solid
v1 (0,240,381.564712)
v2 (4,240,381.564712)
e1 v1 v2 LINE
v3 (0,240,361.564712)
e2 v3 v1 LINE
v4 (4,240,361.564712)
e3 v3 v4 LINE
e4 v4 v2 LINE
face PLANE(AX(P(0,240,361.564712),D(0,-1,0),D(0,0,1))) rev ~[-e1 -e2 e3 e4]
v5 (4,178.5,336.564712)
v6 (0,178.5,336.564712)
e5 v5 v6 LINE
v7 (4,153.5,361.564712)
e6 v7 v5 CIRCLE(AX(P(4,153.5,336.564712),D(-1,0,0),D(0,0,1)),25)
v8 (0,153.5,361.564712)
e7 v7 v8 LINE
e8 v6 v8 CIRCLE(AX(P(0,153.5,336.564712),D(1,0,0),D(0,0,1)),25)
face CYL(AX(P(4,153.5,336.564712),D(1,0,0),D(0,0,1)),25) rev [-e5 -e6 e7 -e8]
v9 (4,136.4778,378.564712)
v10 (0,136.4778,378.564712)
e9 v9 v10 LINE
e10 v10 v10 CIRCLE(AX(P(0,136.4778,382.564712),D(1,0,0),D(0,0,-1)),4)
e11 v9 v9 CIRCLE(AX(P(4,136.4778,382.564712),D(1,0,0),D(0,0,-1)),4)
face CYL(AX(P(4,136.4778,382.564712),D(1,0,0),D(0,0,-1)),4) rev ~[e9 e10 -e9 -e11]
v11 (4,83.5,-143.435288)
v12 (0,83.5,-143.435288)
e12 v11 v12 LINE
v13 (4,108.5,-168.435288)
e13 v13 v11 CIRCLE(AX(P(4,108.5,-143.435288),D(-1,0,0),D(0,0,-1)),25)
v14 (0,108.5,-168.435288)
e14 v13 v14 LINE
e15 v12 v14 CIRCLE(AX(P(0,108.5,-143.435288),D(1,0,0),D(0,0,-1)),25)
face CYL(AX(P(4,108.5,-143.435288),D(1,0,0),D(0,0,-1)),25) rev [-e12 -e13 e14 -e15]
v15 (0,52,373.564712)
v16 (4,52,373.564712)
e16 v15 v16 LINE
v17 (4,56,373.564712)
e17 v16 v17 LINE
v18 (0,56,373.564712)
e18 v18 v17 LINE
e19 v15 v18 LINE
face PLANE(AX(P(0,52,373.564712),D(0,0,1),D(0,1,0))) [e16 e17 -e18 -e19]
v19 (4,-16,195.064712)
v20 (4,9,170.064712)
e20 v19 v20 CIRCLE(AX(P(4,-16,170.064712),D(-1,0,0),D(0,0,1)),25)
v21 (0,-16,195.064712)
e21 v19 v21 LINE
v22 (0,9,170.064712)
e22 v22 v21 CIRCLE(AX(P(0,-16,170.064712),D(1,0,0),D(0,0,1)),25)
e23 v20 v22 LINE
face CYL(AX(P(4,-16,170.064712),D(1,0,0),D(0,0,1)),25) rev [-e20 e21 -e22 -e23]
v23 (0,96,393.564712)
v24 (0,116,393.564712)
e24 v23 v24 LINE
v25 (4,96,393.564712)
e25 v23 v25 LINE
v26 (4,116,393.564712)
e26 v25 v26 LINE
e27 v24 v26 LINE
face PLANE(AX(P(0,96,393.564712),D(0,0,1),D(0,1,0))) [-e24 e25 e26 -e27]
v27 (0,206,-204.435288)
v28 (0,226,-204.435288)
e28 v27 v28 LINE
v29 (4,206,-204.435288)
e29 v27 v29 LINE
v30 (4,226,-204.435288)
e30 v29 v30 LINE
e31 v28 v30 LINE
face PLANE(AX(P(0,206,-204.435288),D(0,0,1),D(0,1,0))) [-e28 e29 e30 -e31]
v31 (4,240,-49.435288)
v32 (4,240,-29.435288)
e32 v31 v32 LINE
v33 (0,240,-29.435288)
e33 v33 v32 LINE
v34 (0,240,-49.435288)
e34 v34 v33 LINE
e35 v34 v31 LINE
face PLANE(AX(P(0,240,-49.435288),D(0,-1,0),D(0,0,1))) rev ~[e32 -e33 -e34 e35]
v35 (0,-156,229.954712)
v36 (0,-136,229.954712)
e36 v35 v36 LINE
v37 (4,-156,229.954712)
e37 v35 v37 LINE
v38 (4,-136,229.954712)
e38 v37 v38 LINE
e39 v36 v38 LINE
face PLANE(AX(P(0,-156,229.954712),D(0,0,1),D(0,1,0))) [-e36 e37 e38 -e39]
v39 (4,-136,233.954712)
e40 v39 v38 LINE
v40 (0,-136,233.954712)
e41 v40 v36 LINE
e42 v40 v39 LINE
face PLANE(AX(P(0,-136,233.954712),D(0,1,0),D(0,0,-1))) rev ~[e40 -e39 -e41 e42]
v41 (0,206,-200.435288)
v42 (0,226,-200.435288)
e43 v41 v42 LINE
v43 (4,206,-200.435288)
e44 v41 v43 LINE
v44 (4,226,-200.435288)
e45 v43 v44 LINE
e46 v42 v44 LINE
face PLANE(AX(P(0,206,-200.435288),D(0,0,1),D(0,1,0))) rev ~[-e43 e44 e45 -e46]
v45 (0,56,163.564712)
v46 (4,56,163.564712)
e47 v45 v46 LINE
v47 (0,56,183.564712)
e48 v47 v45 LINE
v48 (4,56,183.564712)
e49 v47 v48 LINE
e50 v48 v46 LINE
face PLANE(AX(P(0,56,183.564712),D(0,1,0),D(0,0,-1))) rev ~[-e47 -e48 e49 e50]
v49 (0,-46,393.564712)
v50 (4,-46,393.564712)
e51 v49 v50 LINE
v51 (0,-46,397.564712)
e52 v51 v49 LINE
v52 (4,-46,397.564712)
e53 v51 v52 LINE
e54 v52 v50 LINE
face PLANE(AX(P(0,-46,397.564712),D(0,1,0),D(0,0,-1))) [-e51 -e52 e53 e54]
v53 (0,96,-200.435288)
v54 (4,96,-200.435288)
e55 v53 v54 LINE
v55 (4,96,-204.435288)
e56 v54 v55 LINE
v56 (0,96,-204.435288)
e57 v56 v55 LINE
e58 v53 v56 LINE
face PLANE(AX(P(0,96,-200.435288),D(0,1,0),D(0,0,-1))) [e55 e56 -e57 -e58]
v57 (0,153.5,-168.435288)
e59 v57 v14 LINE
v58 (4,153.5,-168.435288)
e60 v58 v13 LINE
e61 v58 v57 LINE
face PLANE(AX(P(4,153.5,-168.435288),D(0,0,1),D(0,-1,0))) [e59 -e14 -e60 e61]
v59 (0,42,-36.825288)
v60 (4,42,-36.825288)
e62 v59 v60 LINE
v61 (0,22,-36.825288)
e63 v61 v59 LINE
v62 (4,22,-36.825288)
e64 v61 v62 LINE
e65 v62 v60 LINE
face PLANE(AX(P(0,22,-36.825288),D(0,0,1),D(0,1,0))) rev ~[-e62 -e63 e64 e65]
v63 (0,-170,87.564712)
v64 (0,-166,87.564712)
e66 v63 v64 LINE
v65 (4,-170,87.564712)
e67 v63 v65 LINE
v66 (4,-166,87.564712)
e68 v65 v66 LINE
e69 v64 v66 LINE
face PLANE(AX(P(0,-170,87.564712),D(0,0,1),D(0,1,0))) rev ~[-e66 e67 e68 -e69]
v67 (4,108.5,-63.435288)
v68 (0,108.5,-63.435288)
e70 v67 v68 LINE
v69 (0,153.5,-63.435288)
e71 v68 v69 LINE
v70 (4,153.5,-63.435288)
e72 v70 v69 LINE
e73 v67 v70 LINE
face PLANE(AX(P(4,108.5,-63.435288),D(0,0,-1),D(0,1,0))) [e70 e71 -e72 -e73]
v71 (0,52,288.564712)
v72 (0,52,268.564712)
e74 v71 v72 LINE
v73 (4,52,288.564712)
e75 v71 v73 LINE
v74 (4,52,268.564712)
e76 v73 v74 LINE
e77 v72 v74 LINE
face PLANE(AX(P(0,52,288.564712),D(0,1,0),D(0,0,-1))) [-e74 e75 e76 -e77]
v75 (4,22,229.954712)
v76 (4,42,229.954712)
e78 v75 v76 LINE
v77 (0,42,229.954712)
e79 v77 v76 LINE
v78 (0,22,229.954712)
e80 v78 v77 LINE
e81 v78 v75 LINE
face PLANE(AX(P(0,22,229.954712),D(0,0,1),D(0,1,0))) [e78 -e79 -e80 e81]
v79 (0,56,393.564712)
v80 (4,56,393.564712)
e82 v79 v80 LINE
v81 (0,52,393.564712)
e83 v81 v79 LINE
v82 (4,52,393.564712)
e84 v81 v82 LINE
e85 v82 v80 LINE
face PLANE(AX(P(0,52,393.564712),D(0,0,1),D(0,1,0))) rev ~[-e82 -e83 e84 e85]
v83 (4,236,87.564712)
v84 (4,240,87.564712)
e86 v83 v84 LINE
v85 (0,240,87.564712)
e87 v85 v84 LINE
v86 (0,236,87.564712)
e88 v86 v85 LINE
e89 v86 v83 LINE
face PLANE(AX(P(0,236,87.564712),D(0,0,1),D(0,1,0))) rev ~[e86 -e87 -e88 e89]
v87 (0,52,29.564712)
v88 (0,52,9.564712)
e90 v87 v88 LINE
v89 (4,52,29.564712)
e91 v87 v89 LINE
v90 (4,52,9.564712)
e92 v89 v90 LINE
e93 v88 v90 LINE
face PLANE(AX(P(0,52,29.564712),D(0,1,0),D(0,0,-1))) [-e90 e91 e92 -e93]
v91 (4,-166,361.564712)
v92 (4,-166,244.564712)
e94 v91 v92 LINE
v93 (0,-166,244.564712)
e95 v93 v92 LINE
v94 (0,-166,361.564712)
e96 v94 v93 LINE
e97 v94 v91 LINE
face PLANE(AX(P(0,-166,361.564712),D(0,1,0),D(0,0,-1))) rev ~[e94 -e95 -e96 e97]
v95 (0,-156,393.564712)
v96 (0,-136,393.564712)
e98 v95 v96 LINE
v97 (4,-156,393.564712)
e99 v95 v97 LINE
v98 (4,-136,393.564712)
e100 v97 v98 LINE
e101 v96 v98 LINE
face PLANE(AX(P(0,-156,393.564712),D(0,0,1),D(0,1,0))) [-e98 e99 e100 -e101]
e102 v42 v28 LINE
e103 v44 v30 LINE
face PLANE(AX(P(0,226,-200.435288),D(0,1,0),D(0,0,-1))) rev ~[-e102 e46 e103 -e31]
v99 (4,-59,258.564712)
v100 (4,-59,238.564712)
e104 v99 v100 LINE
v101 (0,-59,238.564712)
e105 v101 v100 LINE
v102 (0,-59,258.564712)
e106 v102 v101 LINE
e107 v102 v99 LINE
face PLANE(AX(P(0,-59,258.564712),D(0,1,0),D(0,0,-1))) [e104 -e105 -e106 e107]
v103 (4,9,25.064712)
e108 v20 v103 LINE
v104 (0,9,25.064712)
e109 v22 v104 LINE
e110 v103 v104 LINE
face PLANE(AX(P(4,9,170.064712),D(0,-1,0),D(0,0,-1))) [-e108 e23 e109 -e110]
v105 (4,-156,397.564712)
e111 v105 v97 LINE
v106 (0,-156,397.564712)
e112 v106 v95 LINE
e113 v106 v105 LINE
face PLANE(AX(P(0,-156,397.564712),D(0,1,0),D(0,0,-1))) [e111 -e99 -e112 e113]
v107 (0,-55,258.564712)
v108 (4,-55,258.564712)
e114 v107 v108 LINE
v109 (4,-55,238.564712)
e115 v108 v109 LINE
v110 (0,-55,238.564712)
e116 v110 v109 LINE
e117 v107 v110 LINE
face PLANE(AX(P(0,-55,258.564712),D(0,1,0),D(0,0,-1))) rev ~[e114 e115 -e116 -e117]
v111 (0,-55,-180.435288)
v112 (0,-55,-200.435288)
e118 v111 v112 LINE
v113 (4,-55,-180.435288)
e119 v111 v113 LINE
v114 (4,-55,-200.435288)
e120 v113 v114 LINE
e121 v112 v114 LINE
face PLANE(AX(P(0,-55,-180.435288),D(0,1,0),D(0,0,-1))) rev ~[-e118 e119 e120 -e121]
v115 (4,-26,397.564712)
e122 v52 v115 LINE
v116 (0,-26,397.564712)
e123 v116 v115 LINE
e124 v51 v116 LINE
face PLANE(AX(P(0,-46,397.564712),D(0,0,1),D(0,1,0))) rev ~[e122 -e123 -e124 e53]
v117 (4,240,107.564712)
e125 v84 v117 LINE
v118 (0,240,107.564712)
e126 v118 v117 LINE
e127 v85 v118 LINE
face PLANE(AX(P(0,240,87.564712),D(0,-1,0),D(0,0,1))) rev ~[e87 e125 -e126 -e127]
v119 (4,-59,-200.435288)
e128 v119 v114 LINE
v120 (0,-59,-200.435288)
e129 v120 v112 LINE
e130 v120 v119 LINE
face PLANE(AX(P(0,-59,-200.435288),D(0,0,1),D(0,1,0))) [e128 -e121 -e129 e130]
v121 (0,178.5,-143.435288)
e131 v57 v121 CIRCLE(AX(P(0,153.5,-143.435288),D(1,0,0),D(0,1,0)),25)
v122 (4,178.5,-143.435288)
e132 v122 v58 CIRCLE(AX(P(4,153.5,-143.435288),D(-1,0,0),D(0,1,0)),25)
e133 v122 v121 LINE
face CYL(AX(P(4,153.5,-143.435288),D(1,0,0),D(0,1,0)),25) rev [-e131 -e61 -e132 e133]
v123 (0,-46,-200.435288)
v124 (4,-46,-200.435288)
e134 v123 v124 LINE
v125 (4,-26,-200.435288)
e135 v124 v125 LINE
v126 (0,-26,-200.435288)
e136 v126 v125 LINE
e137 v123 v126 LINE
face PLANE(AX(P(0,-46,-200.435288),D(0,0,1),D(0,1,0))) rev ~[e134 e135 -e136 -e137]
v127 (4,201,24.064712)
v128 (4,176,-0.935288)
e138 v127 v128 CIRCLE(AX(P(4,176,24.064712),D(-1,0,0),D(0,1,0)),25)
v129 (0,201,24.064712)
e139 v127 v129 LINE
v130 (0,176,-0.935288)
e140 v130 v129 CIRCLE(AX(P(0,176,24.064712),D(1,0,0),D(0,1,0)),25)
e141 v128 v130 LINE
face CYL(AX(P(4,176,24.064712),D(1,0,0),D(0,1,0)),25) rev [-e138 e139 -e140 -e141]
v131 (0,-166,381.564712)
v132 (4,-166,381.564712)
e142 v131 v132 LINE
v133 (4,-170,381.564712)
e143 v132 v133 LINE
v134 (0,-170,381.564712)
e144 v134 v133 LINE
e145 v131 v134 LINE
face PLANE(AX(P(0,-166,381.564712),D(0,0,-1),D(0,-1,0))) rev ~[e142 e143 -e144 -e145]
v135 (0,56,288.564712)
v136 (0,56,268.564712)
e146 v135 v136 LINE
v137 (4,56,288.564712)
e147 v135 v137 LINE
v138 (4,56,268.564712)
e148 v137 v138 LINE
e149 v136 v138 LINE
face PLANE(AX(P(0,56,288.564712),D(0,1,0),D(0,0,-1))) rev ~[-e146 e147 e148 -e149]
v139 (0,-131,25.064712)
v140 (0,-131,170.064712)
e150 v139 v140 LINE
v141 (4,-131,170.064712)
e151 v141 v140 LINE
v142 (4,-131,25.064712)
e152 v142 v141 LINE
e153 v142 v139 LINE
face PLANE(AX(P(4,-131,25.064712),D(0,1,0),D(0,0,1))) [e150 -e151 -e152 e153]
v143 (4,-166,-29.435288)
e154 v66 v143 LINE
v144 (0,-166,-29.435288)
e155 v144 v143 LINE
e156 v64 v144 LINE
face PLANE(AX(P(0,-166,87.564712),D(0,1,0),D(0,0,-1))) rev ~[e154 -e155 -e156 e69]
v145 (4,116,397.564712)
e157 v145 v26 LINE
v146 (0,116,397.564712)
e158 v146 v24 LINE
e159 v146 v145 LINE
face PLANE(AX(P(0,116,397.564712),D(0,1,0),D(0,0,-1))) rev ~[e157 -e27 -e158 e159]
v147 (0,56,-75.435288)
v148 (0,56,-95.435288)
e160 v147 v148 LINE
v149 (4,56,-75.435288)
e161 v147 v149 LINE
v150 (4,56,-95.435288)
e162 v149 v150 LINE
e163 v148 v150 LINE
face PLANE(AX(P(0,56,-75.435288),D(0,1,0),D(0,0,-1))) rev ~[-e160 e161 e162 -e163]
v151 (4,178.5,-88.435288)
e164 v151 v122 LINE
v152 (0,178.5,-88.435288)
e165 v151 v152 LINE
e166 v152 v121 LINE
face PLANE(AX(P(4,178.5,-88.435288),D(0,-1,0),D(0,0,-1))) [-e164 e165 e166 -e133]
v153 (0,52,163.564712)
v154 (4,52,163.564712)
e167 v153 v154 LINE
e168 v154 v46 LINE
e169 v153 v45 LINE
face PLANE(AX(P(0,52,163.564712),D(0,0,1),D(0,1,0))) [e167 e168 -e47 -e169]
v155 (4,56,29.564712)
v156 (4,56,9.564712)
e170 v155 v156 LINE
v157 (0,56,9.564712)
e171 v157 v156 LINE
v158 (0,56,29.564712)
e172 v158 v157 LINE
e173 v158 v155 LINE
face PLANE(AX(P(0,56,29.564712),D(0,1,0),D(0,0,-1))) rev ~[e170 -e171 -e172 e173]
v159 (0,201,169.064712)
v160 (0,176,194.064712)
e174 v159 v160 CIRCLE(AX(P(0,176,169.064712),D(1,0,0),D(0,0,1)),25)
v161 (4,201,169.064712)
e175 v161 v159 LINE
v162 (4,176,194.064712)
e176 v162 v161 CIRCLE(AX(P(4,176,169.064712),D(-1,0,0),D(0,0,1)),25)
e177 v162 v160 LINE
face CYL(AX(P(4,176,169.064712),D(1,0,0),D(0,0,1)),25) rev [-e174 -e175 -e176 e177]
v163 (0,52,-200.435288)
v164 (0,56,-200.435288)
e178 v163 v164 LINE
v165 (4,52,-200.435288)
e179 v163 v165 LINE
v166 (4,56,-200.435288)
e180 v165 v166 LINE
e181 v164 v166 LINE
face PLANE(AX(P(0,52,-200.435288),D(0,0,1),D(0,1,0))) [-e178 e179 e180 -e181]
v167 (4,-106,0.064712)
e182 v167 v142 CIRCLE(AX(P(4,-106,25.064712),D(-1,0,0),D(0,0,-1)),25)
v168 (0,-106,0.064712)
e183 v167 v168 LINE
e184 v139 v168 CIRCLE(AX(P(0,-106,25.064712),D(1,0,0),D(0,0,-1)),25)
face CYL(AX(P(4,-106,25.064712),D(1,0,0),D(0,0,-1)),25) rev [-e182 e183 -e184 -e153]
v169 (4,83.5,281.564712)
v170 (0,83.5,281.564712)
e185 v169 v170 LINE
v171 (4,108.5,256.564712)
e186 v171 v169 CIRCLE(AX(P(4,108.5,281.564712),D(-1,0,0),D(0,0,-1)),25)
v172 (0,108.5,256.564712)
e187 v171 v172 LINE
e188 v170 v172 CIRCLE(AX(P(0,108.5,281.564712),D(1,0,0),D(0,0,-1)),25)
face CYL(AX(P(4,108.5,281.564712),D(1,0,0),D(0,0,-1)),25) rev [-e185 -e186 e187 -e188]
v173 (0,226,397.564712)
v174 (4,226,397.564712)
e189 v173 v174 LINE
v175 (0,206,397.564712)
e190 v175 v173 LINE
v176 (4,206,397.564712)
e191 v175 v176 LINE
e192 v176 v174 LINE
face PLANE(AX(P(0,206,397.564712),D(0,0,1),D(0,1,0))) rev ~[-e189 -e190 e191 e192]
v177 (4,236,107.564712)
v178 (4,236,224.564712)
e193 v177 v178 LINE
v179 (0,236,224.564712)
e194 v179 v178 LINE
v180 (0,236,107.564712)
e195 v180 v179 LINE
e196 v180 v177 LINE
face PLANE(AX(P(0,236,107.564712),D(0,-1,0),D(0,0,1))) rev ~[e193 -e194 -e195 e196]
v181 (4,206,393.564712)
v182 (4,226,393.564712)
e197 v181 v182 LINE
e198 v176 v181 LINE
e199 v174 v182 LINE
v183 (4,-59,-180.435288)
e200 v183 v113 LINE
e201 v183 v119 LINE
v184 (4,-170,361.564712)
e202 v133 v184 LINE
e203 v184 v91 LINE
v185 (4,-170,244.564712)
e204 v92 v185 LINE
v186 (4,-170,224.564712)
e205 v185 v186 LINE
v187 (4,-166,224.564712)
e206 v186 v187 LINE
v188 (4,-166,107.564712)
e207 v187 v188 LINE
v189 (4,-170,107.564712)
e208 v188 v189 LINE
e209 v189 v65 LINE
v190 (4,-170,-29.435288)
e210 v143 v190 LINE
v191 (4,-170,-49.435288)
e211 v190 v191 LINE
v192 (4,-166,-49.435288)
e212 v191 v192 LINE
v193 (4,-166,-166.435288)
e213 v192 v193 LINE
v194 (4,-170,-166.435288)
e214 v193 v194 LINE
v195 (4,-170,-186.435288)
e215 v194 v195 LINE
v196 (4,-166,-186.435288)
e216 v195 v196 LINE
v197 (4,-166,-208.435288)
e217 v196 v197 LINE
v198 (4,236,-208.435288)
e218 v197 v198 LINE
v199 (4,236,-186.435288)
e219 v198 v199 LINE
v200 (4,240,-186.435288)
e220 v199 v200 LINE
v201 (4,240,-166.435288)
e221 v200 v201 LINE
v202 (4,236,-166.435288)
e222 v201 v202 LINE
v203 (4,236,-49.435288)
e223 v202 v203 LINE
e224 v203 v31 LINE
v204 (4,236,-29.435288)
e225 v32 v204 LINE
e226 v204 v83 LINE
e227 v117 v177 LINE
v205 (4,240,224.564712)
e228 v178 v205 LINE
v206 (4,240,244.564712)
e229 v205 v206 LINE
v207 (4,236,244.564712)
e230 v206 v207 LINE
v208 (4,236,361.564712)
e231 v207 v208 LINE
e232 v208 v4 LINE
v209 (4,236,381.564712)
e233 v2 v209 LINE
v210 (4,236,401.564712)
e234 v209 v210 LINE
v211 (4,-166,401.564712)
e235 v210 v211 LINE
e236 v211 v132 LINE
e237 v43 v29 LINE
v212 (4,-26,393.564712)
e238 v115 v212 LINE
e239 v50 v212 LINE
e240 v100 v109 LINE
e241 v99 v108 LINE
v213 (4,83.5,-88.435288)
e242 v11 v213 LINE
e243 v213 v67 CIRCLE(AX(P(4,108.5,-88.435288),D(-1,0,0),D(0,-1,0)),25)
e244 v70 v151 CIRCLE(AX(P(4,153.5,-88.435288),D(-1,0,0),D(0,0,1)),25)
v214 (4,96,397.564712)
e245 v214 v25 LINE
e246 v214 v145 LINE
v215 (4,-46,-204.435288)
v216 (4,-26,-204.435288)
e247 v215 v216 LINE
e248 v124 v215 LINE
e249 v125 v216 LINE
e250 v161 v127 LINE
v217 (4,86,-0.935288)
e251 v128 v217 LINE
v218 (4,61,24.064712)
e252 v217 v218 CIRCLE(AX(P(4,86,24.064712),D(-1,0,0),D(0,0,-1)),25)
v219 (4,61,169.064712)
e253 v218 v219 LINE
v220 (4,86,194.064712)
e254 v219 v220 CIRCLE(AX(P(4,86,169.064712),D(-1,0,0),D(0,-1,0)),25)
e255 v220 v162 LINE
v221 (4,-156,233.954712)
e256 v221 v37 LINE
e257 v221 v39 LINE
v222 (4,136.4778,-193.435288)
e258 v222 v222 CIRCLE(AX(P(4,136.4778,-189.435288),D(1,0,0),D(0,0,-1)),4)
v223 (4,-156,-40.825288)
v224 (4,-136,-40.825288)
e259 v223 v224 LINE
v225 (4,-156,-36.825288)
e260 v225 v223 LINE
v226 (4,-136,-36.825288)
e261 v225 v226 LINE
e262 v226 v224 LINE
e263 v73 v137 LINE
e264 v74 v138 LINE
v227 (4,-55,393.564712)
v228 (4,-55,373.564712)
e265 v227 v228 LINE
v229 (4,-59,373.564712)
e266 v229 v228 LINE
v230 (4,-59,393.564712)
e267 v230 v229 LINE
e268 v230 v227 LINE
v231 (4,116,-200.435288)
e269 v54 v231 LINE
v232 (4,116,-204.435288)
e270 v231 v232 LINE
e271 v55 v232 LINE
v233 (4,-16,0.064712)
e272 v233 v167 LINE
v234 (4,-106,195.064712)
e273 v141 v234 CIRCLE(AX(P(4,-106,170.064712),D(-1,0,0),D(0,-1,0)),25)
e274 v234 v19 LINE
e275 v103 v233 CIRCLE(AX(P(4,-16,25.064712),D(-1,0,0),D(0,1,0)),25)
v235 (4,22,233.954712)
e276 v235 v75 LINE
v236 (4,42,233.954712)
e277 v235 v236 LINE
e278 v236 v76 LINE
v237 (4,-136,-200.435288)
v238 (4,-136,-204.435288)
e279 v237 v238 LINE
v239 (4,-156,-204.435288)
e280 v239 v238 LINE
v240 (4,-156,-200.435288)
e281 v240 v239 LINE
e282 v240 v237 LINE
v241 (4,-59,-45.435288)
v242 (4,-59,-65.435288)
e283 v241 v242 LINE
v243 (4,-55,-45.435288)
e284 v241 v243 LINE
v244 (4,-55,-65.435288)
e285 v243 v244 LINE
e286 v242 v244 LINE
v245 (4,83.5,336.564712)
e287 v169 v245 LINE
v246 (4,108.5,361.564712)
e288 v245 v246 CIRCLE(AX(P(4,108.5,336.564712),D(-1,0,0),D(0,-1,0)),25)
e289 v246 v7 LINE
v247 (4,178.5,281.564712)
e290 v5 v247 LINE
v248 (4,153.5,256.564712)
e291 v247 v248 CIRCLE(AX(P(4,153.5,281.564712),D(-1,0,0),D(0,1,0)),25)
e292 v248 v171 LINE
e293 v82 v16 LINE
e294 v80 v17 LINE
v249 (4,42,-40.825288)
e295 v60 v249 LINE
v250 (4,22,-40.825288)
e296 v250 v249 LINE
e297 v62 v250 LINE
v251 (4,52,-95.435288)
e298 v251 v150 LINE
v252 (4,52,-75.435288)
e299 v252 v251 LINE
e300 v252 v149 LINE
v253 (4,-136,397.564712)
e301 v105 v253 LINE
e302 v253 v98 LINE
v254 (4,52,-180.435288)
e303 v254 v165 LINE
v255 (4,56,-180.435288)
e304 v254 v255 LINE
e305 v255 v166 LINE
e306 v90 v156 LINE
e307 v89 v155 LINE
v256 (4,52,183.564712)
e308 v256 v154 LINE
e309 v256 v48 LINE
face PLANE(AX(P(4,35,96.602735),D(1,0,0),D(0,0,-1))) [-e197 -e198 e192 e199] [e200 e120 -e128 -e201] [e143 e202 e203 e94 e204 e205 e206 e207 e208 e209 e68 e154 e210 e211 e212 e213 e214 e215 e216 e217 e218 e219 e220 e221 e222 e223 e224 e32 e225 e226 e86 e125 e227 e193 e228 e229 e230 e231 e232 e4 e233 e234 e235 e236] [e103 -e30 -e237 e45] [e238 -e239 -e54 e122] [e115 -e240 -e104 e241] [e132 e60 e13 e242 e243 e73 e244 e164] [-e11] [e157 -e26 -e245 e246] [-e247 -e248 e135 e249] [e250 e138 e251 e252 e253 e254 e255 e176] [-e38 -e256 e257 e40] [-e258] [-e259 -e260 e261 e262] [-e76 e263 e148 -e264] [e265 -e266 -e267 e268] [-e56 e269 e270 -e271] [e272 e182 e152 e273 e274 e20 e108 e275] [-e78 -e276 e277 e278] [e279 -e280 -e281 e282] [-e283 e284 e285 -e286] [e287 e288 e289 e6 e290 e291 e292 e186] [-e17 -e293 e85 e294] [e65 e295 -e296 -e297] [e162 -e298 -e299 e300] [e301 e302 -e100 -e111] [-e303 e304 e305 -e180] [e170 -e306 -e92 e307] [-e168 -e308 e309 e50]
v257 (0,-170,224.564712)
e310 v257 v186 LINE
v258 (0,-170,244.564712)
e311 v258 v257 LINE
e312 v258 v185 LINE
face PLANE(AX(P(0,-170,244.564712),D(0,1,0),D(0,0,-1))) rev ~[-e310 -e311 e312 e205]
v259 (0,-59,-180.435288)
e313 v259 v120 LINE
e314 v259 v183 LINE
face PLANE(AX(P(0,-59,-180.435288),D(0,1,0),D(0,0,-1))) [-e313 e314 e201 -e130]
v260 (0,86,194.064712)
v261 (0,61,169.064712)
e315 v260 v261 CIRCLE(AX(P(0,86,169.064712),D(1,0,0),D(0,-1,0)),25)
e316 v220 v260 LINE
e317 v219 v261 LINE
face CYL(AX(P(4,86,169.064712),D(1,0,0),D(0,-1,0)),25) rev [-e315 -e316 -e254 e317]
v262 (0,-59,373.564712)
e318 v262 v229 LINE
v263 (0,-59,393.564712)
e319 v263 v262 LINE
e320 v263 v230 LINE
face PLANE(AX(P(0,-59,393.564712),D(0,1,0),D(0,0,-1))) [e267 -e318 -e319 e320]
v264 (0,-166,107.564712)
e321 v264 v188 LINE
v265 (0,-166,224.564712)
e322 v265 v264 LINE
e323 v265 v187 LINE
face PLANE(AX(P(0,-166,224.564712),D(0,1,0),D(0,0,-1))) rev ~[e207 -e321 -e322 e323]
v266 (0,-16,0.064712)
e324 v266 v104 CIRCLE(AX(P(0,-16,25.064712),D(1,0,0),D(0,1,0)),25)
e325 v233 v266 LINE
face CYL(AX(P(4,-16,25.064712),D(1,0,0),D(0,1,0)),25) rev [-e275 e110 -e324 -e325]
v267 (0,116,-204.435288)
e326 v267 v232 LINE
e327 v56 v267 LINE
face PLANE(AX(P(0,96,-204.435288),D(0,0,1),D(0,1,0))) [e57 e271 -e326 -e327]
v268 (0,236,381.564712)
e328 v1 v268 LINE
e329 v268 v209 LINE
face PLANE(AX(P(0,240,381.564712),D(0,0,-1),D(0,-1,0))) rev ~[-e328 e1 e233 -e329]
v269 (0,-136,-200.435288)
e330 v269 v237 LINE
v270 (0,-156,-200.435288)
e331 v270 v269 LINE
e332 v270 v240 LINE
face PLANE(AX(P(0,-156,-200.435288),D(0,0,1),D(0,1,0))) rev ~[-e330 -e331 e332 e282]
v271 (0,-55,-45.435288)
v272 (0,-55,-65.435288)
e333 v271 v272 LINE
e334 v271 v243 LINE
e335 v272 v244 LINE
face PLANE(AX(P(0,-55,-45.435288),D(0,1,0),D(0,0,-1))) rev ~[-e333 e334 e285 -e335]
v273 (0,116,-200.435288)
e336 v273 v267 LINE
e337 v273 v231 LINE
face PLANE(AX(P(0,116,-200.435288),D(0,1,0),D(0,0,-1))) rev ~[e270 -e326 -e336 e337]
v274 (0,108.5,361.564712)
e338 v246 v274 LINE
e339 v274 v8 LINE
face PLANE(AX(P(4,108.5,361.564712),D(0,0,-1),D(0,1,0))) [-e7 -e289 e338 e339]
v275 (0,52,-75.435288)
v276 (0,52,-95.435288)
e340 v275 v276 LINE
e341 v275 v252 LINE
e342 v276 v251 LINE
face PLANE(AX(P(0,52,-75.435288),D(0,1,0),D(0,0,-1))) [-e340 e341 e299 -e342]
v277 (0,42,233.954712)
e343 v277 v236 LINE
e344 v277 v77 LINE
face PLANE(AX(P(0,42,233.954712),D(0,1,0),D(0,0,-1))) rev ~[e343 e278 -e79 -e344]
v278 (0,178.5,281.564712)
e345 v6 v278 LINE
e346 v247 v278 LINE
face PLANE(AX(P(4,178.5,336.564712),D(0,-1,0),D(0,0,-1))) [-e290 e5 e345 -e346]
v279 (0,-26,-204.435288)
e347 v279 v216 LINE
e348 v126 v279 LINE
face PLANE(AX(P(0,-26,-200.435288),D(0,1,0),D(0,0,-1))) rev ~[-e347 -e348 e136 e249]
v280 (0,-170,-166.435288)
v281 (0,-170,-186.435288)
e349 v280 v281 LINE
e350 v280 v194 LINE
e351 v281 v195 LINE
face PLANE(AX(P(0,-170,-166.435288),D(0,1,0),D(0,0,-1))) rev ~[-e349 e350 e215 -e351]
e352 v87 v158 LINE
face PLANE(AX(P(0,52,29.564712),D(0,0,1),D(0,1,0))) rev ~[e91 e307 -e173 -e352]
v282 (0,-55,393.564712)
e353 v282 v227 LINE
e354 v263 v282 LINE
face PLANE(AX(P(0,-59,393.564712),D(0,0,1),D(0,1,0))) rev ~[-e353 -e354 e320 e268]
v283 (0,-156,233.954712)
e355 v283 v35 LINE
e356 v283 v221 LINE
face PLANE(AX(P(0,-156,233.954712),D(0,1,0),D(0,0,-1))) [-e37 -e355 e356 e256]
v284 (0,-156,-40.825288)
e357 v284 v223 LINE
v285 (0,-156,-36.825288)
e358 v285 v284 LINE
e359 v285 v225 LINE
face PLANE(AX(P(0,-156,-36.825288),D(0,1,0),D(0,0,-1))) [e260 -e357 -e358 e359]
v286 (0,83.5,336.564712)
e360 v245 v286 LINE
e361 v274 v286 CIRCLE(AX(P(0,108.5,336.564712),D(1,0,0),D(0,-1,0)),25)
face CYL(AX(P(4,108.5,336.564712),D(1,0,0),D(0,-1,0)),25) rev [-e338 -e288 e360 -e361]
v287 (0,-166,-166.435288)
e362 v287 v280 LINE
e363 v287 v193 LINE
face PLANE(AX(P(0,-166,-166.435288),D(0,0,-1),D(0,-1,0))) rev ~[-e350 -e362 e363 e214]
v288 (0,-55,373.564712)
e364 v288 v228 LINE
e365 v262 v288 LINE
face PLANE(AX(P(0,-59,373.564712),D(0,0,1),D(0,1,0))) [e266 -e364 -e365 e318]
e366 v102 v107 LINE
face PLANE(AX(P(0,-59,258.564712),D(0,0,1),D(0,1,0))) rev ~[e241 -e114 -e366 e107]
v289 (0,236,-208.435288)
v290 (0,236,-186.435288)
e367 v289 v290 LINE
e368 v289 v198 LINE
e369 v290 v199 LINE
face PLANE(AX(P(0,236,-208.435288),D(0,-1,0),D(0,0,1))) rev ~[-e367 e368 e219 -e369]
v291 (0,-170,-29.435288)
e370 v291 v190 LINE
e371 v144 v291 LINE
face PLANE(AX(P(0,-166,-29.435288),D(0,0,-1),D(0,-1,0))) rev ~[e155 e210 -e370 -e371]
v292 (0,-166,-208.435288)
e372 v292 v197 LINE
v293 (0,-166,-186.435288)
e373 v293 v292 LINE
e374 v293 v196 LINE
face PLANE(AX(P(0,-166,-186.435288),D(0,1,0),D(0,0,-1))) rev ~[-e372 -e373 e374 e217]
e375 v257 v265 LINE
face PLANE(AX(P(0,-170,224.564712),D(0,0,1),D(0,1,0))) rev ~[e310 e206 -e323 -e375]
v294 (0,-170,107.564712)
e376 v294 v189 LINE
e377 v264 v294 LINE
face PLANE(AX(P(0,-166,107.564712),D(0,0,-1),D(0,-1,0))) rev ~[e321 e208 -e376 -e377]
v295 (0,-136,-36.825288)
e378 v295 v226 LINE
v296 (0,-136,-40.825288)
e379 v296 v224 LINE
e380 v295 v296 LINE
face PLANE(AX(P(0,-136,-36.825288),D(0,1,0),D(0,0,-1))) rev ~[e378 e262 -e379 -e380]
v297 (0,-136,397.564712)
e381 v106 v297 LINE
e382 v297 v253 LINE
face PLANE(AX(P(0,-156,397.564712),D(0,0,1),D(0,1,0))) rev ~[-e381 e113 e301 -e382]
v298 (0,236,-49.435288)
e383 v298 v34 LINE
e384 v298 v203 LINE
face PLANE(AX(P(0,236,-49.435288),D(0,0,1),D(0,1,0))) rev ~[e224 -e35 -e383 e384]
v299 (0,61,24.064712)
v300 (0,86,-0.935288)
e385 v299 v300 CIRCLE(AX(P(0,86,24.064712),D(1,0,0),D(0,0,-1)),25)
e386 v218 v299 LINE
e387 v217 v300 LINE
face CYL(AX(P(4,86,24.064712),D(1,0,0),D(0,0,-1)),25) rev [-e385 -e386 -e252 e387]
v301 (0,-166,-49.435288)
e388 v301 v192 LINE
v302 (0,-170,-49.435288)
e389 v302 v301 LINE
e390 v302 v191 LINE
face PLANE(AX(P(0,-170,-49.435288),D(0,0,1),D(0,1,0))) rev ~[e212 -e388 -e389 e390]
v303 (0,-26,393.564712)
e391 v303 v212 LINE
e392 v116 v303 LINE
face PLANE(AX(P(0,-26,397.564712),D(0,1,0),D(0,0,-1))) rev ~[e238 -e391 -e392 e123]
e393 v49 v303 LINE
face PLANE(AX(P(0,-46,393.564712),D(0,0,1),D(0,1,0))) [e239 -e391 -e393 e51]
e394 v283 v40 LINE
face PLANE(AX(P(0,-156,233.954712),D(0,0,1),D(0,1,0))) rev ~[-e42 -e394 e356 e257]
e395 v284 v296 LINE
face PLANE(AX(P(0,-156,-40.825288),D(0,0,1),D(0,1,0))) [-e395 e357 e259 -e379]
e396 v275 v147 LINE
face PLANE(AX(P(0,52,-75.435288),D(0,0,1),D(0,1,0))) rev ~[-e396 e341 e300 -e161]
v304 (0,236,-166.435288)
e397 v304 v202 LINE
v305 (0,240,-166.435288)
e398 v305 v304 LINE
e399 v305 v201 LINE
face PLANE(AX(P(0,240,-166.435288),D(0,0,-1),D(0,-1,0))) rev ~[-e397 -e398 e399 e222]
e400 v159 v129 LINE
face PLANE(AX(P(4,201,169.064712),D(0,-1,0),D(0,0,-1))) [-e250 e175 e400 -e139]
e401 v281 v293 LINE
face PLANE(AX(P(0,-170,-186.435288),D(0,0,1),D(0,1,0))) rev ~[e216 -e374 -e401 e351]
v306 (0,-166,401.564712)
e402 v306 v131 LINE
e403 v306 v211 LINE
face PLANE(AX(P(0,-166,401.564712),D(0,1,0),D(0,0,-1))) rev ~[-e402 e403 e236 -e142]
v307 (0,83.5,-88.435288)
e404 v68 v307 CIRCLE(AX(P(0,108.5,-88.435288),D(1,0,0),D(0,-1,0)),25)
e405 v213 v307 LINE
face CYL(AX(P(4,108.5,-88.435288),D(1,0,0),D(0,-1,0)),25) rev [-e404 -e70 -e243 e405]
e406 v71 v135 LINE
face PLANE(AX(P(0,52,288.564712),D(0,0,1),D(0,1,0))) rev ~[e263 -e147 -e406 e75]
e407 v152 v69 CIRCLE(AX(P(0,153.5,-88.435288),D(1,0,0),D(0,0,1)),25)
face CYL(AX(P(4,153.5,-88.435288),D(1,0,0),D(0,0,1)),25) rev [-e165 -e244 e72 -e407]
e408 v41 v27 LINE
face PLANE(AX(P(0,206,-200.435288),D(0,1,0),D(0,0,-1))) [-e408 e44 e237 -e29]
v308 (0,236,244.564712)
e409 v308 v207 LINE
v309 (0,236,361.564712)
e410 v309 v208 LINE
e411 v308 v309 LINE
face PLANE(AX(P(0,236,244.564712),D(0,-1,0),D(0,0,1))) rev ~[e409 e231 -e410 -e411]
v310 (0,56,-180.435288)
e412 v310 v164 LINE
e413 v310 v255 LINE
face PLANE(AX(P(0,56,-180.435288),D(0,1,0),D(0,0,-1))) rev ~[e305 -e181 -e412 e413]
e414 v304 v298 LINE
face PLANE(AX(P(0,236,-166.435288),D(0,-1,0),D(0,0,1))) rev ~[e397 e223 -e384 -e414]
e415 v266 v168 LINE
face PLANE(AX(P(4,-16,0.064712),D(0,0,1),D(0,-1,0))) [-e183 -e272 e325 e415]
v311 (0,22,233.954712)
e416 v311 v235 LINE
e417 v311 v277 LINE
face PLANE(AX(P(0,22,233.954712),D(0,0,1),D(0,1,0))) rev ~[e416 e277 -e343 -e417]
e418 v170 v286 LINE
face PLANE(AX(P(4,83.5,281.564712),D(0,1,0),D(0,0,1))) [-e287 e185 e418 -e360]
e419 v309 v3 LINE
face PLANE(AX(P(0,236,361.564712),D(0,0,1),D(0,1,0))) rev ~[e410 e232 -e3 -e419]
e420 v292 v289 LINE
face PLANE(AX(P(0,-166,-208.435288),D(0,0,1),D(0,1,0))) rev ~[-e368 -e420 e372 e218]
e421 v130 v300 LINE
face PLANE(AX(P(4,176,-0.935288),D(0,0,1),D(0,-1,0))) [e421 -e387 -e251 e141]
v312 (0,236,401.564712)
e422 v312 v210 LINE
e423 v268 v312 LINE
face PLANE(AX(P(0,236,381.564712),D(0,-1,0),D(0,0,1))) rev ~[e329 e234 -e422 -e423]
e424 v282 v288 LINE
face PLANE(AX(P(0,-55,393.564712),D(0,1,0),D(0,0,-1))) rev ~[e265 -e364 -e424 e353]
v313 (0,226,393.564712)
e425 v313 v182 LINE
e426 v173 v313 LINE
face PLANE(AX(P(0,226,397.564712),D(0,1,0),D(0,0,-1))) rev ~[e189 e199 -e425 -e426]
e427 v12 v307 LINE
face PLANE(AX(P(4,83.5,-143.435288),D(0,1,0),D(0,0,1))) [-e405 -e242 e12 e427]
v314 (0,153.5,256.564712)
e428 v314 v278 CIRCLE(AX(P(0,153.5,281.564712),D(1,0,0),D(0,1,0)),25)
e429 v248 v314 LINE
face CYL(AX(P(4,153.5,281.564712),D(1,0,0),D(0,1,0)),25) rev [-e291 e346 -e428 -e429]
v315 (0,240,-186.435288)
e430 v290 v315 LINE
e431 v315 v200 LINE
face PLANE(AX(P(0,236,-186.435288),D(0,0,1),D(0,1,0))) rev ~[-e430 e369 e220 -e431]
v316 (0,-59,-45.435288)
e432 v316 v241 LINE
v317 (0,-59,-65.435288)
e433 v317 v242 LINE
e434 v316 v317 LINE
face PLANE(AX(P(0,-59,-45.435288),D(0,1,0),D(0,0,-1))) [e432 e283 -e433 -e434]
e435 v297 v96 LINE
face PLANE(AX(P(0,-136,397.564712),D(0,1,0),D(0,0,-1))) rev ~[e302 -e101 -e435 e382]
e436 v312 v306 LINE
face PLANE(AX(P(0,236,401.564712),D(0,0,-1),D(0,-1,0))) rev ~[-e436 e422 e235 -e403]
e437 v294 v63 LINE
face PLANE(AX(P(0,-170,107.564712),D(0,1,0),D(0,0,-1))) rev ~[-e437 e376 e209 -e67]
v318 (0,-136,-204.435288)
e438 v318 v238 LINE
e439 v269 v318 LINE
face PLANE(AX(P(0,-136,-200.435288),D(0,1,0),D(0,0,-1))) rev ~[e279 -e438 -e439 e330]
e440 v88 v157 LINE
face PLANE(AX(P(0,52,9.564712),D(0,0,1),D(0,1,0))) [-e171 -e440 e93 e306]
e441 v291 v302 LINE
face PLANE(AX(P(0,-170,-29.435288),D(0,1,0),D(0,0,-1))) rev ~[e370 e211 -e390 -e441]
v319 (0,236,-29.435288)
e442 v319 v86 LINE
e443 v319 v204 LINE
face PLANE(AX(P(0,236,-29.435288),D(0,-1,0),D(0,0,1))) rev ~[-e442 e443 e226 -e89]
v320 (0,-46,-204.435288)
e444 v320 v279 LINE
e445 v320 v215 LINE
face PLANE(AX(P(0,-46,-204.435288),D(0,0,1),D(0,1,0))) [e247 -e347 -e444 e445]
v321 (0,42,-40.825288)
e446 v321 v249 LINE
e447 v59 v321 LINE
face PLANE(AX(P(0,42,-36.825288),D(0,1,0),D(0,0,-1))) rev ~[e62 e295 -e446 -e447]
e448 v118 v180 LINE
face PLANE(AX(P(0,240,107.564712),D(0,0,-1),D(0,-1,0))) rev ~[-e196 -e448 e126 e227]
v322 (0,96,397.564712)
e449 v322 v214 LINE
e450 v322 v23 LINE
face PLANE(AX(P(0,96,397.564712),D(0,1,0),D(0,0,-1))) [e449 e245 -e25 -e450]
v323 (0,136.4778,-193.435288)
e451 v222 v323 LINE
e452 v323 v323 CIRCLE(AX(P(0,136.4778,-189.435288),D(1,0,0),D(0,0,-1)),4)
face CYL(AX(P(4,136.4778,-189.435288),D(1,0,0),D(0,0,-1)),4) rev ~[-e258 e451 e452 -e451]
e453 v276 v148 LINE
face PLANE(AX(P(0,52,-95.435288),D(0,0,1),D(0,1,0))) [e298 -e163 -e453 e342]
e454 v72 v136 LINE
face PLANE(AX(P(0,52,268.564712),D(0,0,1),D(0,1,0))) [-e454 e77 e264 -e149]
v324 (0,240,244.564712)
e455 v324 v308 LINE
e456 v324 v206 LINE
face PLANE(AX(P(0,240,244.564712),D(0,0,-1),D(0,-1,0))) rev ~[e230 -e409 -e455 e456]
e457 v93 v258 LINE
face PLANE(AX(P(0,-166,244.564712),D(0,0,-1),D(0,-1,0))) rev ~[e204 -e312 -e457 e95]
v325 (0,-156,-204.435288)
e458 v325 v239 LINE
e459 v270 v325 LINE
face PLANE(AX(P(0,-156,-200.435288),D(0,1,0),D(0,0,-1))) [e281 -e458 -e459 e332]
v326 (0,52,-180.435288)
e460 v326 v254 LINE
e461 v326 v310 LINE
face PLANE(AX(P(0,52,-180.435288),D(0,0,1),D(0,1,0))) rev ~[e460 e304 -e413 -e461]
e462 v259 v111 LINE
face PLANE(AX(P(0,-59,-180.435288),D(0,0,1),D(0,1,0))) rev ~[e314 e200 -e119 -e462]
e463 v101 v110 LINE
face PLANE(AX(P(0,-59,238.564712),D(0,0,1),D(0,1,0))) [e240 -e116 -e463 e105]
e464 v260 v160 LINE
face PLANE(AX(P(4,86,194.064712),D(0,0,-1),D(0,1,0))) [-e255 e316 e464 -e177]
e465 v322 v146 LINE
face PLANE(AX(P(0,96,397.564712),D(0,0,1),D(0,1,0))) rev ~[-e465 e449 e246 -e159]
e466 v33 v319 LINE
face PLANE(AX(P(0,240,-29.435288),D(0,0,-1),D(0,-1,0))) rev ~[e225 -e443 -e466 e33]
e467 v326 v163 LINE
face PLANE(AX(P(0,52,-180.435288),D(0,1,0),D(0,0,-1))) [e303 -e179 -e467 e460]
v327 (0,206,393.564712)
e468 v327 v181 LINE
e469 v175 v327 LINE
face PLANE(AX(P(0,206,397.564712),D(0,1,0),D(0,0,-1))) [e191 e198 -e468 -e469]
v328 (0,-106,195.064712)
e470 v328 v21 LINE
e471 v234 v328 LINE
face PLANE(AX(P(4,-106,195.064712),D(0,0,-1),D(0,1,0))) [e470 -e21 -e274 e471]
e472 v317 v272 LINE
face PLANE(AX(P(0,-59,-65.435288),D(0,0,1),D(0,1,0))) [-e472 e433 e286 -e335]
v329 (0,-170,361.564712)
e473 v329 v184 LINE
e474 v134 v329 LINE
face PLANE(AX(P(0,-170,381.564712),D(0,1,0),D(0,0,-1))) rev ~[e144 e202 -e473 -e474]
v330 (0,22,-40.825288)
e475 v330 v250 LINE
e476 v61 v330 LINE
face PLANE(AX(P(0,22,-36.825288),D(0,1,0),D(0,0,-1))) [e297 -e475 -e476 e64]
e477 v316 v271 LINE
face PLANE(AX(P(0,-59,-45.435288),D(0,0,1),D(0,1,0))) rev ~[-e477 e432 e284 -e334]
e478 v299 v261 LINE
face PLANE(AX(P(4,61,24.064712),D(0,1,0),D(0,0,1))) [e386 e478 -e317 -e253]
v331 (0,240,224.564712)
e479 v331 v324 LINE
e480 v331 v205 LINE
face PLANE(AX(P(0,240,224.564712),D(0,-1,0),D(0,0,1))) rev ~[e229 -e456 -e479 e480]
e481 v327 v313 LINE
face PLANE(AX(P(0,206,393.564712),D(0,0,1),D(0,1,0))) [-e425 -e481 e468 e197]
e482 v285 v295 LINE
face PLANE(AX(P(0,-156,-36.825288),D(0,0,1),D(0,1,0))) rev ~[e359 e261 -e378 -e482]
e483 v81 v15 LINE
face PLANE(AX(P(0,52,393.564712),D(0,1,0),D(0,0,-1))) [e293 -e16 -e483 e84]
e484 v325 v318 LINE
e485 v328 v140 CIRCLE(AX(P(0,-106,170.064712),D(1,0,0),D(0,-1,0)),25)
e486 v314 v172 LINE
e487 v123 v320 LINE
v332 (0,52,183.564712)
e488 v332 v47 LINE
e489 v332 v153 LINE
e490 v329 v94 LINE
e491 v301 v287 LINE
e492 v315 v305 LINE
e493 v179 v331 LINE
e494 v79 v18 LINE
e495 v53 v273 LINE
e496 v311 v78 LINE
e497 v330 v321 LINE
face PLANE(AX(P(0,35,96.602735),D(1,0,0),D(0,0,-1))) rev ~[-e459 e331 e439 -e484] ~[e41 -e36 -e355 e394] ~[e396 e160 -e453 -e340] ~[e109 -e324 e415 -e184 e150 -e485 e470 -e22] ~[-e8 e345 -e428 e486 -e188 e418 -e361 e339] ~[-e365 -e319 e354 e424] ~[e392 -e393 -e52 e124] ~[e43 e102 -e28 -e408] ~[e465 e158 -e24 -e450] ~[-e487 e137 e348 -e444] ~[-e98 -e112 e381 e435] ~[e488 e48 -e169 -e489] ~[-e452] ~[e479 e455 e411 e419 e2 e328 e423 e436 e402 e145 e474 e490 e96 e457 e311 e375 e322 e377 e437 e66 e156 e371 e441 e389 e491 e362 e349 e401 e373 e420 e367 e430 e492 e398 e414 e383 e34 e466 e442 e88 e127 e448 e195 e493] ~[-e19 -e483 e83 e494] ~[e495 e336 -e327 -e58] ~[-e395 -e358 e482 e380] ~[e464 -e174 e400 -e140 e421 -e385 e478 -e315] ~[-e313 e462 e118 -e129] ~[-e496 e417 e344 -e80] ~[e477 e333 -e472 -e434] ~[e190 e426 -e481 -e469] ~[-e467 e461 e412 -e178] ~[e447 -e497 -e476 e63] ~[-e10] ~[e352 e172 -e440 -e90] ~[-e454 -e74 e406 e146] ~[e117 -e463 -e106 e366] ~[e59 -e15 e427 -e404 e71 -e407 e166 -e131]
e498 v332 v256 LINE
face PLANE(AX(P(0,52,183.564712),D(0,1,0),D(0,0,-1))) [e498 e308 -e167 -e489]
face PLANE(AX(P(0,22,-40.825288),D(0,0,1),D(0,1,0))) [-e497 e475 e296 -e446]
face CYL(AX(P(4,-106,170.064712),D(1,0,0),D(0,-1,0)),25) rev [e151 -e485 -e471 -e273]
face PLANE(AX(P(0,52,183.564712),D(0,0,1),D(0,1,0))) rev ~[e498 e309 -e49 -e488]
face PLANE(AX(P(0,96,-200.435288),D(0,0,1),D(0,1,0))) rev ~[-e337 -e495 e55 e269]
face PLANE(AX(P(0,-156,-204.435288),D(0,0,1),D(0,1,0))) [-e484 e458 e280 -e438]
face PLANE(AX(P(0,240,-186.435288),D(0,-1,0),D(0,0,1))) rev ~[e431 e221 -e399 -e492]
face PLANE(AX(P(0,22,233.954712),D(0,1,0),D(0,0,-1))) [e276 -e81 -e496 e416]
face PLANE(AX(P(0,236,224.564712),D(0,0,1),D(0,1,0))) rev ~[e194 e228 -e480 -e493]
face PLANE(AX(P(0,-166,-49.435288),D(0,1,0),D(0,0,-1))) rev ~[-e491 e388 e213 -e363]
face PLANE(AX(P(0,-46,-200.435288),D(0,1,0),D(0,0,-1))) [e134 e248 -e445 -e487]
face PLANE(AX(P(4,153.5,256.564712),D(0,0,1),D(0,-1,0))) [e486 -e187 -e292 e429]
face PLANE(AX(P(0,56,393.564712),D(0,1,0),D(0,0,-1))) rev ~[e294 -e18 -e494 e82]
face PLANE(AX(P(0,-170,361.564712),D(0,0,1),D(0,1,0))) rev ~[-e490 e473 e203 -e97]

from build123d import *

# Parameters (mm, degrees)
SKETCH1_W           = 20
SKETCH1_H           = 4
SKETCH1_W_2         = 4
SKETCH1_H_2         = 20
BOSS_EXTRUDE1_DEPTH = 4
CUT_EXTRUDE1_DEPTH  = 10
SKETCH3_R           = 4
CUT_EXTRUDE2_DEPTH  = 10


with BuildPart() as part:
    # Sketch1 → Boss-Extrude1 (new body)
    with BuildSketch(Plane(origin=(0, 0, 0), x_dir=(0, 0, -1), z_dir=(1, 0, 0))):
        Polygon((-401.564712347, -166), (-381.564712347, -166), (-381.564712347, -170), (-361.564712347, -170), (-361.564712347, -166), (-244.564712347, -166), (-244.564712347, -170), (-224.564712347, -170), (-224.564712347, -166), (-107.564712347, -166), (-107.564712347, -170), (-87.564712347, -170), (-87.564712347, -166), (29.435287653, -166), (29.435287653, -170), (49.435287653, -170), (49.435287653, -166), (166.435287653, -166), (166.435287653, -170), (186.435287653, -170), (186.435287653, -166), (208.435287653, -166), (208.435287653, 236), (186.435287653, 236), (186.435287653, 240), (166.435287653, 240), (166.435287653, 236), (49.435287653, 236), (49.435287653, 240), (29.435287653, 240), (29.435287653, 236), (-87.564712347, 236), (-87.564712347, 240), (-107.564712347, 240), (-107.564712347, 236), (-224.564712347, 236), (-224.564712347, 240), (-244.564712347, 240), (-244.564712347, 236), (-361.564712347, 236), (-361.564712347, 240), (-381.564712347, 240), (-381.564712347, 236), (-401.564712347, 236), align=None)
        with Locations((190.435287653, -57)):
            Rectangle(SKETCH1_W, SKETCH1_H, mode=Mode.SUBTRACT)
        with Locations((38.825287653, 32)):
            Rectangle(SKETCH1_W_2, SKETCH1_H_2, mode=Mode.SUBTRACT)
        with Locations((38.825287653, -146)):
            Rectangle(SKETCH1_W_2, SKETCH1_H_2, mode=Mode.SUBTRACT)
        with Locations((-395.564712347, 216)):
            Rectangle(SKETCH1_W_2, SKETCH1_H_2, mode=Mode.SUBTRACT)
        with Locations((-395.564712347, 106)):
            Rectangle(SKETCH1_W_2, SKETCH1_H_2, mode=Mode.SUBTRACT)
        with Locations((-395.564712347, -36)):
            Rectangle(SKETCH1_W_2, SKETCH1_H_2, mode=Mode.SUBTRACT)
        with Locations((-395.564712347, -146)):
            Rectangle(SKETCH1_W_2, SKETCH1_H_2, mode=Mode.SUBTRACT)
        with Locations((202.435287653, 216)):
            Rectangle(SKETCH1_W_2, SKETCH1_H_2, mode=Mode.SUBTRACT)
        with Locations((202.435287653, 106)):
            Rectangle(SKETCH1_W_2, SKETCH1_H_2, mode=Mode.SUBTRACT)
        with Locations((202.435287653, -36)):
            Rectangle(SKETCH1_W_2, SKETCH1_H_2, mode=Mode.SUBTRACT)
        with Locations((202.435287653, -146)):
            Rectangle(SKETCH1_W_2, SKETCH1_H_2, mode=Mode.SUBTRACT)
        with Locations((190.435287653, 54)):
            Rectangle(SKETCH1_W, SKETCH1_H, mode=Mode.SUBTRACT)
        with Locations((-231.954712347, -146)):
            Rectangle(SKETCH1_W_2, SKETCH1_H_2, mode=Mode.SUBTRACT)
        with Locations((-231.954712347, 32)):
            Rectangle(SKETCH1_W_2, SKETCH1_H_2, mode=Mode.SUBTRACT)
        with Locations((-383.564712347, 54)):
            Rectangle(SKETCH1_W, SKETCH1_H, mode=Mode.SUBTRACT)
        with Locations((-278.564712347, 54)):
            Rectangle(SKETCH1_W, SKETCH1_H, mode=Mode.SUBTRACT)
        with Locations((-173.564712347, 54)):
            Rectangle(SKETCH1_W, SKETCH1_H, mode=Mode.SUBTRACT)
        with Locations((85.435287653, 54)):
            Rectangle(SKETCH1_W, SKETCH1_H, mode=Mode.SUBTRACT)
        with Locations((-19.564712347, 54)):
            Rectangle(SKETCH1_W, SKETCH1_H, mode=Mode.SUBTRACT)
        with Locations((-248.564712347, -57)):
            Rectangle(SKETCH1_W, SKETCH1_H, mode=Mode.SUBTRACT)
        with Locations((-383.564712347, -57)):
            Rectangle(SKETCH1_W, SKETCH1_H, mode=Mode.SUBTRACT)
        with Locations((55.435287653, -57)):
            Rectangle(SKETCH1_W, SKETCH1_H, mode=Mode.SUBTRACT)
    extrude(amount=BOSS_EXTRUDE1_DEPTH)

    # Sketch2 → Cut-Extrude1 (cut)
    with BuildSketch(Plane(origin=(4, 0, 0), x_dir=(0, 0, -1), z_dir=(1, 0, 0))):
        with BuildLine():
            Line((-170.064712347, 9), (-25.064712347, 9))
            ThreePointArc((-25.064712347, 9), (-7.387042818, 1.67766953), (-0.064712347, -16))
            Line((-0.064712347, -16), (-0.064712347, -106))
            ThreePointArc((-0.064712347, -106), (-7.387042818, -123.67766953), (-25.064712347, -131))
            Line((-25.064712347, -131), (-170.064712347, -131))
            ThreePointArc((-170.064712347, -131), (-187.742381877, -123.67766953), (-195.064712347, -106))
            Line((-195.064712347, -106), (-195.064712347, -16))
            ThreePointArc((-195.064712347, -16), (-187.742381877, 1.67766953), (-170.064712347, 9))
        make_face()
        with BuildLine():
            Line((-169.064712347, 201), (-24.064712347, 201))
            ThreePointArc((-24.064712347, 201), (-6.387042818, 193.67766953), (0.935287653, 176))
            Line((0.935287653, 176), (0.935287653, 86))
            ThreePointArc((0.935287653, 86), (-6.387042818, 68.32233047), (-24.064712347, 61))
            Line((-24.064712347, 61), (-169.064712347, 61))
            ThreePointArc((-169.064712347, 61), (-186.742381877, 68.32233047), (-194.064712347, 86))
            Line((-194.064712347, 86), (-194.064712347, 176))
            ThreePointArc((-194.064712347, 176), (-186.742381877, 193.67766953), (-169.064712347, 201))
        make_face()
        with BuildLine():
            Line((-336.564712347, 178.5), (-281.564712347, 178.5))
            ThreePointArc((-281.564712347, 178.5), (-263.887042818, 171.17766953), (-256.564712347, 153.5))
            Line((-256.564712347, 153.5), (-256.564712347, 108.5))
            ThreePointArc((-256.564712347, 108.5), (-263.887042818, 90.82233047), (-281.564712347, 83.5))
            Line((-281.564712347, 83.5), (-336.564712347, 83.5))
            ThreePointArc((-336.564712347, 83.5), (-354.242381877, 90.82233047), (-361.564712347, 108.5))
            Line((-361.564712347, 108.5), (-361.564712347, 153.5))
            ThreePointArc((-361.564712347, 153.5), (-354.242381877, 171.17766953), (-336.564712347, 178.5))
        make_face()
        with BuildLine():
            Line((88.435287653, 178.5), (143.435287653, 178.5))
            ThreePointArc((143.435287653, 178.5), (161.112957182, 171.17766953), (168.435287653, 153.5))
            Line((168.435287653, 153.5), (168.435287653, 108.5))
            ThreePointArc((168.435287653, 108.5), (161.112957182, 90.82233047), (143.435287653, 83.5))
            Line((143.435287653, 83.5), (88.435287653, 83.5))
            ThreePointArc((88.435287653, 83.5), (70.757618123, 90.82233047), (63.435287653, 108.5))
            Line((63.435287653, 108.5), (63.435287653, 153.5))
            ThreePointArc((63.435287653, 153.5), (70.757618123, 171.17766953), (88.435287653, 178.5))
        make_face()
    extrude(amount=-CUT_EXTRUDE1_DEPTH, mode=Mode.SUBTRACT)

    # Sketch3 → Cut-Extrude2 (cut)
    with BuildSketch(Plane(origin=(4, 0, 0), x_dir=(0, 0, -1), z_dir=(1, 0, 0))):
        with Locations((-382.564712347, 136.477800328)):
            Circle(SKETCH3_R)
        with Locations((189.435287653, 136.477800328)):
            Circle(SKETCH3_R)
    extrude(amount=-CUT_EXTRUDE2_DEPTH, mode=Mode.SUBTRACT)


solid = part.part
